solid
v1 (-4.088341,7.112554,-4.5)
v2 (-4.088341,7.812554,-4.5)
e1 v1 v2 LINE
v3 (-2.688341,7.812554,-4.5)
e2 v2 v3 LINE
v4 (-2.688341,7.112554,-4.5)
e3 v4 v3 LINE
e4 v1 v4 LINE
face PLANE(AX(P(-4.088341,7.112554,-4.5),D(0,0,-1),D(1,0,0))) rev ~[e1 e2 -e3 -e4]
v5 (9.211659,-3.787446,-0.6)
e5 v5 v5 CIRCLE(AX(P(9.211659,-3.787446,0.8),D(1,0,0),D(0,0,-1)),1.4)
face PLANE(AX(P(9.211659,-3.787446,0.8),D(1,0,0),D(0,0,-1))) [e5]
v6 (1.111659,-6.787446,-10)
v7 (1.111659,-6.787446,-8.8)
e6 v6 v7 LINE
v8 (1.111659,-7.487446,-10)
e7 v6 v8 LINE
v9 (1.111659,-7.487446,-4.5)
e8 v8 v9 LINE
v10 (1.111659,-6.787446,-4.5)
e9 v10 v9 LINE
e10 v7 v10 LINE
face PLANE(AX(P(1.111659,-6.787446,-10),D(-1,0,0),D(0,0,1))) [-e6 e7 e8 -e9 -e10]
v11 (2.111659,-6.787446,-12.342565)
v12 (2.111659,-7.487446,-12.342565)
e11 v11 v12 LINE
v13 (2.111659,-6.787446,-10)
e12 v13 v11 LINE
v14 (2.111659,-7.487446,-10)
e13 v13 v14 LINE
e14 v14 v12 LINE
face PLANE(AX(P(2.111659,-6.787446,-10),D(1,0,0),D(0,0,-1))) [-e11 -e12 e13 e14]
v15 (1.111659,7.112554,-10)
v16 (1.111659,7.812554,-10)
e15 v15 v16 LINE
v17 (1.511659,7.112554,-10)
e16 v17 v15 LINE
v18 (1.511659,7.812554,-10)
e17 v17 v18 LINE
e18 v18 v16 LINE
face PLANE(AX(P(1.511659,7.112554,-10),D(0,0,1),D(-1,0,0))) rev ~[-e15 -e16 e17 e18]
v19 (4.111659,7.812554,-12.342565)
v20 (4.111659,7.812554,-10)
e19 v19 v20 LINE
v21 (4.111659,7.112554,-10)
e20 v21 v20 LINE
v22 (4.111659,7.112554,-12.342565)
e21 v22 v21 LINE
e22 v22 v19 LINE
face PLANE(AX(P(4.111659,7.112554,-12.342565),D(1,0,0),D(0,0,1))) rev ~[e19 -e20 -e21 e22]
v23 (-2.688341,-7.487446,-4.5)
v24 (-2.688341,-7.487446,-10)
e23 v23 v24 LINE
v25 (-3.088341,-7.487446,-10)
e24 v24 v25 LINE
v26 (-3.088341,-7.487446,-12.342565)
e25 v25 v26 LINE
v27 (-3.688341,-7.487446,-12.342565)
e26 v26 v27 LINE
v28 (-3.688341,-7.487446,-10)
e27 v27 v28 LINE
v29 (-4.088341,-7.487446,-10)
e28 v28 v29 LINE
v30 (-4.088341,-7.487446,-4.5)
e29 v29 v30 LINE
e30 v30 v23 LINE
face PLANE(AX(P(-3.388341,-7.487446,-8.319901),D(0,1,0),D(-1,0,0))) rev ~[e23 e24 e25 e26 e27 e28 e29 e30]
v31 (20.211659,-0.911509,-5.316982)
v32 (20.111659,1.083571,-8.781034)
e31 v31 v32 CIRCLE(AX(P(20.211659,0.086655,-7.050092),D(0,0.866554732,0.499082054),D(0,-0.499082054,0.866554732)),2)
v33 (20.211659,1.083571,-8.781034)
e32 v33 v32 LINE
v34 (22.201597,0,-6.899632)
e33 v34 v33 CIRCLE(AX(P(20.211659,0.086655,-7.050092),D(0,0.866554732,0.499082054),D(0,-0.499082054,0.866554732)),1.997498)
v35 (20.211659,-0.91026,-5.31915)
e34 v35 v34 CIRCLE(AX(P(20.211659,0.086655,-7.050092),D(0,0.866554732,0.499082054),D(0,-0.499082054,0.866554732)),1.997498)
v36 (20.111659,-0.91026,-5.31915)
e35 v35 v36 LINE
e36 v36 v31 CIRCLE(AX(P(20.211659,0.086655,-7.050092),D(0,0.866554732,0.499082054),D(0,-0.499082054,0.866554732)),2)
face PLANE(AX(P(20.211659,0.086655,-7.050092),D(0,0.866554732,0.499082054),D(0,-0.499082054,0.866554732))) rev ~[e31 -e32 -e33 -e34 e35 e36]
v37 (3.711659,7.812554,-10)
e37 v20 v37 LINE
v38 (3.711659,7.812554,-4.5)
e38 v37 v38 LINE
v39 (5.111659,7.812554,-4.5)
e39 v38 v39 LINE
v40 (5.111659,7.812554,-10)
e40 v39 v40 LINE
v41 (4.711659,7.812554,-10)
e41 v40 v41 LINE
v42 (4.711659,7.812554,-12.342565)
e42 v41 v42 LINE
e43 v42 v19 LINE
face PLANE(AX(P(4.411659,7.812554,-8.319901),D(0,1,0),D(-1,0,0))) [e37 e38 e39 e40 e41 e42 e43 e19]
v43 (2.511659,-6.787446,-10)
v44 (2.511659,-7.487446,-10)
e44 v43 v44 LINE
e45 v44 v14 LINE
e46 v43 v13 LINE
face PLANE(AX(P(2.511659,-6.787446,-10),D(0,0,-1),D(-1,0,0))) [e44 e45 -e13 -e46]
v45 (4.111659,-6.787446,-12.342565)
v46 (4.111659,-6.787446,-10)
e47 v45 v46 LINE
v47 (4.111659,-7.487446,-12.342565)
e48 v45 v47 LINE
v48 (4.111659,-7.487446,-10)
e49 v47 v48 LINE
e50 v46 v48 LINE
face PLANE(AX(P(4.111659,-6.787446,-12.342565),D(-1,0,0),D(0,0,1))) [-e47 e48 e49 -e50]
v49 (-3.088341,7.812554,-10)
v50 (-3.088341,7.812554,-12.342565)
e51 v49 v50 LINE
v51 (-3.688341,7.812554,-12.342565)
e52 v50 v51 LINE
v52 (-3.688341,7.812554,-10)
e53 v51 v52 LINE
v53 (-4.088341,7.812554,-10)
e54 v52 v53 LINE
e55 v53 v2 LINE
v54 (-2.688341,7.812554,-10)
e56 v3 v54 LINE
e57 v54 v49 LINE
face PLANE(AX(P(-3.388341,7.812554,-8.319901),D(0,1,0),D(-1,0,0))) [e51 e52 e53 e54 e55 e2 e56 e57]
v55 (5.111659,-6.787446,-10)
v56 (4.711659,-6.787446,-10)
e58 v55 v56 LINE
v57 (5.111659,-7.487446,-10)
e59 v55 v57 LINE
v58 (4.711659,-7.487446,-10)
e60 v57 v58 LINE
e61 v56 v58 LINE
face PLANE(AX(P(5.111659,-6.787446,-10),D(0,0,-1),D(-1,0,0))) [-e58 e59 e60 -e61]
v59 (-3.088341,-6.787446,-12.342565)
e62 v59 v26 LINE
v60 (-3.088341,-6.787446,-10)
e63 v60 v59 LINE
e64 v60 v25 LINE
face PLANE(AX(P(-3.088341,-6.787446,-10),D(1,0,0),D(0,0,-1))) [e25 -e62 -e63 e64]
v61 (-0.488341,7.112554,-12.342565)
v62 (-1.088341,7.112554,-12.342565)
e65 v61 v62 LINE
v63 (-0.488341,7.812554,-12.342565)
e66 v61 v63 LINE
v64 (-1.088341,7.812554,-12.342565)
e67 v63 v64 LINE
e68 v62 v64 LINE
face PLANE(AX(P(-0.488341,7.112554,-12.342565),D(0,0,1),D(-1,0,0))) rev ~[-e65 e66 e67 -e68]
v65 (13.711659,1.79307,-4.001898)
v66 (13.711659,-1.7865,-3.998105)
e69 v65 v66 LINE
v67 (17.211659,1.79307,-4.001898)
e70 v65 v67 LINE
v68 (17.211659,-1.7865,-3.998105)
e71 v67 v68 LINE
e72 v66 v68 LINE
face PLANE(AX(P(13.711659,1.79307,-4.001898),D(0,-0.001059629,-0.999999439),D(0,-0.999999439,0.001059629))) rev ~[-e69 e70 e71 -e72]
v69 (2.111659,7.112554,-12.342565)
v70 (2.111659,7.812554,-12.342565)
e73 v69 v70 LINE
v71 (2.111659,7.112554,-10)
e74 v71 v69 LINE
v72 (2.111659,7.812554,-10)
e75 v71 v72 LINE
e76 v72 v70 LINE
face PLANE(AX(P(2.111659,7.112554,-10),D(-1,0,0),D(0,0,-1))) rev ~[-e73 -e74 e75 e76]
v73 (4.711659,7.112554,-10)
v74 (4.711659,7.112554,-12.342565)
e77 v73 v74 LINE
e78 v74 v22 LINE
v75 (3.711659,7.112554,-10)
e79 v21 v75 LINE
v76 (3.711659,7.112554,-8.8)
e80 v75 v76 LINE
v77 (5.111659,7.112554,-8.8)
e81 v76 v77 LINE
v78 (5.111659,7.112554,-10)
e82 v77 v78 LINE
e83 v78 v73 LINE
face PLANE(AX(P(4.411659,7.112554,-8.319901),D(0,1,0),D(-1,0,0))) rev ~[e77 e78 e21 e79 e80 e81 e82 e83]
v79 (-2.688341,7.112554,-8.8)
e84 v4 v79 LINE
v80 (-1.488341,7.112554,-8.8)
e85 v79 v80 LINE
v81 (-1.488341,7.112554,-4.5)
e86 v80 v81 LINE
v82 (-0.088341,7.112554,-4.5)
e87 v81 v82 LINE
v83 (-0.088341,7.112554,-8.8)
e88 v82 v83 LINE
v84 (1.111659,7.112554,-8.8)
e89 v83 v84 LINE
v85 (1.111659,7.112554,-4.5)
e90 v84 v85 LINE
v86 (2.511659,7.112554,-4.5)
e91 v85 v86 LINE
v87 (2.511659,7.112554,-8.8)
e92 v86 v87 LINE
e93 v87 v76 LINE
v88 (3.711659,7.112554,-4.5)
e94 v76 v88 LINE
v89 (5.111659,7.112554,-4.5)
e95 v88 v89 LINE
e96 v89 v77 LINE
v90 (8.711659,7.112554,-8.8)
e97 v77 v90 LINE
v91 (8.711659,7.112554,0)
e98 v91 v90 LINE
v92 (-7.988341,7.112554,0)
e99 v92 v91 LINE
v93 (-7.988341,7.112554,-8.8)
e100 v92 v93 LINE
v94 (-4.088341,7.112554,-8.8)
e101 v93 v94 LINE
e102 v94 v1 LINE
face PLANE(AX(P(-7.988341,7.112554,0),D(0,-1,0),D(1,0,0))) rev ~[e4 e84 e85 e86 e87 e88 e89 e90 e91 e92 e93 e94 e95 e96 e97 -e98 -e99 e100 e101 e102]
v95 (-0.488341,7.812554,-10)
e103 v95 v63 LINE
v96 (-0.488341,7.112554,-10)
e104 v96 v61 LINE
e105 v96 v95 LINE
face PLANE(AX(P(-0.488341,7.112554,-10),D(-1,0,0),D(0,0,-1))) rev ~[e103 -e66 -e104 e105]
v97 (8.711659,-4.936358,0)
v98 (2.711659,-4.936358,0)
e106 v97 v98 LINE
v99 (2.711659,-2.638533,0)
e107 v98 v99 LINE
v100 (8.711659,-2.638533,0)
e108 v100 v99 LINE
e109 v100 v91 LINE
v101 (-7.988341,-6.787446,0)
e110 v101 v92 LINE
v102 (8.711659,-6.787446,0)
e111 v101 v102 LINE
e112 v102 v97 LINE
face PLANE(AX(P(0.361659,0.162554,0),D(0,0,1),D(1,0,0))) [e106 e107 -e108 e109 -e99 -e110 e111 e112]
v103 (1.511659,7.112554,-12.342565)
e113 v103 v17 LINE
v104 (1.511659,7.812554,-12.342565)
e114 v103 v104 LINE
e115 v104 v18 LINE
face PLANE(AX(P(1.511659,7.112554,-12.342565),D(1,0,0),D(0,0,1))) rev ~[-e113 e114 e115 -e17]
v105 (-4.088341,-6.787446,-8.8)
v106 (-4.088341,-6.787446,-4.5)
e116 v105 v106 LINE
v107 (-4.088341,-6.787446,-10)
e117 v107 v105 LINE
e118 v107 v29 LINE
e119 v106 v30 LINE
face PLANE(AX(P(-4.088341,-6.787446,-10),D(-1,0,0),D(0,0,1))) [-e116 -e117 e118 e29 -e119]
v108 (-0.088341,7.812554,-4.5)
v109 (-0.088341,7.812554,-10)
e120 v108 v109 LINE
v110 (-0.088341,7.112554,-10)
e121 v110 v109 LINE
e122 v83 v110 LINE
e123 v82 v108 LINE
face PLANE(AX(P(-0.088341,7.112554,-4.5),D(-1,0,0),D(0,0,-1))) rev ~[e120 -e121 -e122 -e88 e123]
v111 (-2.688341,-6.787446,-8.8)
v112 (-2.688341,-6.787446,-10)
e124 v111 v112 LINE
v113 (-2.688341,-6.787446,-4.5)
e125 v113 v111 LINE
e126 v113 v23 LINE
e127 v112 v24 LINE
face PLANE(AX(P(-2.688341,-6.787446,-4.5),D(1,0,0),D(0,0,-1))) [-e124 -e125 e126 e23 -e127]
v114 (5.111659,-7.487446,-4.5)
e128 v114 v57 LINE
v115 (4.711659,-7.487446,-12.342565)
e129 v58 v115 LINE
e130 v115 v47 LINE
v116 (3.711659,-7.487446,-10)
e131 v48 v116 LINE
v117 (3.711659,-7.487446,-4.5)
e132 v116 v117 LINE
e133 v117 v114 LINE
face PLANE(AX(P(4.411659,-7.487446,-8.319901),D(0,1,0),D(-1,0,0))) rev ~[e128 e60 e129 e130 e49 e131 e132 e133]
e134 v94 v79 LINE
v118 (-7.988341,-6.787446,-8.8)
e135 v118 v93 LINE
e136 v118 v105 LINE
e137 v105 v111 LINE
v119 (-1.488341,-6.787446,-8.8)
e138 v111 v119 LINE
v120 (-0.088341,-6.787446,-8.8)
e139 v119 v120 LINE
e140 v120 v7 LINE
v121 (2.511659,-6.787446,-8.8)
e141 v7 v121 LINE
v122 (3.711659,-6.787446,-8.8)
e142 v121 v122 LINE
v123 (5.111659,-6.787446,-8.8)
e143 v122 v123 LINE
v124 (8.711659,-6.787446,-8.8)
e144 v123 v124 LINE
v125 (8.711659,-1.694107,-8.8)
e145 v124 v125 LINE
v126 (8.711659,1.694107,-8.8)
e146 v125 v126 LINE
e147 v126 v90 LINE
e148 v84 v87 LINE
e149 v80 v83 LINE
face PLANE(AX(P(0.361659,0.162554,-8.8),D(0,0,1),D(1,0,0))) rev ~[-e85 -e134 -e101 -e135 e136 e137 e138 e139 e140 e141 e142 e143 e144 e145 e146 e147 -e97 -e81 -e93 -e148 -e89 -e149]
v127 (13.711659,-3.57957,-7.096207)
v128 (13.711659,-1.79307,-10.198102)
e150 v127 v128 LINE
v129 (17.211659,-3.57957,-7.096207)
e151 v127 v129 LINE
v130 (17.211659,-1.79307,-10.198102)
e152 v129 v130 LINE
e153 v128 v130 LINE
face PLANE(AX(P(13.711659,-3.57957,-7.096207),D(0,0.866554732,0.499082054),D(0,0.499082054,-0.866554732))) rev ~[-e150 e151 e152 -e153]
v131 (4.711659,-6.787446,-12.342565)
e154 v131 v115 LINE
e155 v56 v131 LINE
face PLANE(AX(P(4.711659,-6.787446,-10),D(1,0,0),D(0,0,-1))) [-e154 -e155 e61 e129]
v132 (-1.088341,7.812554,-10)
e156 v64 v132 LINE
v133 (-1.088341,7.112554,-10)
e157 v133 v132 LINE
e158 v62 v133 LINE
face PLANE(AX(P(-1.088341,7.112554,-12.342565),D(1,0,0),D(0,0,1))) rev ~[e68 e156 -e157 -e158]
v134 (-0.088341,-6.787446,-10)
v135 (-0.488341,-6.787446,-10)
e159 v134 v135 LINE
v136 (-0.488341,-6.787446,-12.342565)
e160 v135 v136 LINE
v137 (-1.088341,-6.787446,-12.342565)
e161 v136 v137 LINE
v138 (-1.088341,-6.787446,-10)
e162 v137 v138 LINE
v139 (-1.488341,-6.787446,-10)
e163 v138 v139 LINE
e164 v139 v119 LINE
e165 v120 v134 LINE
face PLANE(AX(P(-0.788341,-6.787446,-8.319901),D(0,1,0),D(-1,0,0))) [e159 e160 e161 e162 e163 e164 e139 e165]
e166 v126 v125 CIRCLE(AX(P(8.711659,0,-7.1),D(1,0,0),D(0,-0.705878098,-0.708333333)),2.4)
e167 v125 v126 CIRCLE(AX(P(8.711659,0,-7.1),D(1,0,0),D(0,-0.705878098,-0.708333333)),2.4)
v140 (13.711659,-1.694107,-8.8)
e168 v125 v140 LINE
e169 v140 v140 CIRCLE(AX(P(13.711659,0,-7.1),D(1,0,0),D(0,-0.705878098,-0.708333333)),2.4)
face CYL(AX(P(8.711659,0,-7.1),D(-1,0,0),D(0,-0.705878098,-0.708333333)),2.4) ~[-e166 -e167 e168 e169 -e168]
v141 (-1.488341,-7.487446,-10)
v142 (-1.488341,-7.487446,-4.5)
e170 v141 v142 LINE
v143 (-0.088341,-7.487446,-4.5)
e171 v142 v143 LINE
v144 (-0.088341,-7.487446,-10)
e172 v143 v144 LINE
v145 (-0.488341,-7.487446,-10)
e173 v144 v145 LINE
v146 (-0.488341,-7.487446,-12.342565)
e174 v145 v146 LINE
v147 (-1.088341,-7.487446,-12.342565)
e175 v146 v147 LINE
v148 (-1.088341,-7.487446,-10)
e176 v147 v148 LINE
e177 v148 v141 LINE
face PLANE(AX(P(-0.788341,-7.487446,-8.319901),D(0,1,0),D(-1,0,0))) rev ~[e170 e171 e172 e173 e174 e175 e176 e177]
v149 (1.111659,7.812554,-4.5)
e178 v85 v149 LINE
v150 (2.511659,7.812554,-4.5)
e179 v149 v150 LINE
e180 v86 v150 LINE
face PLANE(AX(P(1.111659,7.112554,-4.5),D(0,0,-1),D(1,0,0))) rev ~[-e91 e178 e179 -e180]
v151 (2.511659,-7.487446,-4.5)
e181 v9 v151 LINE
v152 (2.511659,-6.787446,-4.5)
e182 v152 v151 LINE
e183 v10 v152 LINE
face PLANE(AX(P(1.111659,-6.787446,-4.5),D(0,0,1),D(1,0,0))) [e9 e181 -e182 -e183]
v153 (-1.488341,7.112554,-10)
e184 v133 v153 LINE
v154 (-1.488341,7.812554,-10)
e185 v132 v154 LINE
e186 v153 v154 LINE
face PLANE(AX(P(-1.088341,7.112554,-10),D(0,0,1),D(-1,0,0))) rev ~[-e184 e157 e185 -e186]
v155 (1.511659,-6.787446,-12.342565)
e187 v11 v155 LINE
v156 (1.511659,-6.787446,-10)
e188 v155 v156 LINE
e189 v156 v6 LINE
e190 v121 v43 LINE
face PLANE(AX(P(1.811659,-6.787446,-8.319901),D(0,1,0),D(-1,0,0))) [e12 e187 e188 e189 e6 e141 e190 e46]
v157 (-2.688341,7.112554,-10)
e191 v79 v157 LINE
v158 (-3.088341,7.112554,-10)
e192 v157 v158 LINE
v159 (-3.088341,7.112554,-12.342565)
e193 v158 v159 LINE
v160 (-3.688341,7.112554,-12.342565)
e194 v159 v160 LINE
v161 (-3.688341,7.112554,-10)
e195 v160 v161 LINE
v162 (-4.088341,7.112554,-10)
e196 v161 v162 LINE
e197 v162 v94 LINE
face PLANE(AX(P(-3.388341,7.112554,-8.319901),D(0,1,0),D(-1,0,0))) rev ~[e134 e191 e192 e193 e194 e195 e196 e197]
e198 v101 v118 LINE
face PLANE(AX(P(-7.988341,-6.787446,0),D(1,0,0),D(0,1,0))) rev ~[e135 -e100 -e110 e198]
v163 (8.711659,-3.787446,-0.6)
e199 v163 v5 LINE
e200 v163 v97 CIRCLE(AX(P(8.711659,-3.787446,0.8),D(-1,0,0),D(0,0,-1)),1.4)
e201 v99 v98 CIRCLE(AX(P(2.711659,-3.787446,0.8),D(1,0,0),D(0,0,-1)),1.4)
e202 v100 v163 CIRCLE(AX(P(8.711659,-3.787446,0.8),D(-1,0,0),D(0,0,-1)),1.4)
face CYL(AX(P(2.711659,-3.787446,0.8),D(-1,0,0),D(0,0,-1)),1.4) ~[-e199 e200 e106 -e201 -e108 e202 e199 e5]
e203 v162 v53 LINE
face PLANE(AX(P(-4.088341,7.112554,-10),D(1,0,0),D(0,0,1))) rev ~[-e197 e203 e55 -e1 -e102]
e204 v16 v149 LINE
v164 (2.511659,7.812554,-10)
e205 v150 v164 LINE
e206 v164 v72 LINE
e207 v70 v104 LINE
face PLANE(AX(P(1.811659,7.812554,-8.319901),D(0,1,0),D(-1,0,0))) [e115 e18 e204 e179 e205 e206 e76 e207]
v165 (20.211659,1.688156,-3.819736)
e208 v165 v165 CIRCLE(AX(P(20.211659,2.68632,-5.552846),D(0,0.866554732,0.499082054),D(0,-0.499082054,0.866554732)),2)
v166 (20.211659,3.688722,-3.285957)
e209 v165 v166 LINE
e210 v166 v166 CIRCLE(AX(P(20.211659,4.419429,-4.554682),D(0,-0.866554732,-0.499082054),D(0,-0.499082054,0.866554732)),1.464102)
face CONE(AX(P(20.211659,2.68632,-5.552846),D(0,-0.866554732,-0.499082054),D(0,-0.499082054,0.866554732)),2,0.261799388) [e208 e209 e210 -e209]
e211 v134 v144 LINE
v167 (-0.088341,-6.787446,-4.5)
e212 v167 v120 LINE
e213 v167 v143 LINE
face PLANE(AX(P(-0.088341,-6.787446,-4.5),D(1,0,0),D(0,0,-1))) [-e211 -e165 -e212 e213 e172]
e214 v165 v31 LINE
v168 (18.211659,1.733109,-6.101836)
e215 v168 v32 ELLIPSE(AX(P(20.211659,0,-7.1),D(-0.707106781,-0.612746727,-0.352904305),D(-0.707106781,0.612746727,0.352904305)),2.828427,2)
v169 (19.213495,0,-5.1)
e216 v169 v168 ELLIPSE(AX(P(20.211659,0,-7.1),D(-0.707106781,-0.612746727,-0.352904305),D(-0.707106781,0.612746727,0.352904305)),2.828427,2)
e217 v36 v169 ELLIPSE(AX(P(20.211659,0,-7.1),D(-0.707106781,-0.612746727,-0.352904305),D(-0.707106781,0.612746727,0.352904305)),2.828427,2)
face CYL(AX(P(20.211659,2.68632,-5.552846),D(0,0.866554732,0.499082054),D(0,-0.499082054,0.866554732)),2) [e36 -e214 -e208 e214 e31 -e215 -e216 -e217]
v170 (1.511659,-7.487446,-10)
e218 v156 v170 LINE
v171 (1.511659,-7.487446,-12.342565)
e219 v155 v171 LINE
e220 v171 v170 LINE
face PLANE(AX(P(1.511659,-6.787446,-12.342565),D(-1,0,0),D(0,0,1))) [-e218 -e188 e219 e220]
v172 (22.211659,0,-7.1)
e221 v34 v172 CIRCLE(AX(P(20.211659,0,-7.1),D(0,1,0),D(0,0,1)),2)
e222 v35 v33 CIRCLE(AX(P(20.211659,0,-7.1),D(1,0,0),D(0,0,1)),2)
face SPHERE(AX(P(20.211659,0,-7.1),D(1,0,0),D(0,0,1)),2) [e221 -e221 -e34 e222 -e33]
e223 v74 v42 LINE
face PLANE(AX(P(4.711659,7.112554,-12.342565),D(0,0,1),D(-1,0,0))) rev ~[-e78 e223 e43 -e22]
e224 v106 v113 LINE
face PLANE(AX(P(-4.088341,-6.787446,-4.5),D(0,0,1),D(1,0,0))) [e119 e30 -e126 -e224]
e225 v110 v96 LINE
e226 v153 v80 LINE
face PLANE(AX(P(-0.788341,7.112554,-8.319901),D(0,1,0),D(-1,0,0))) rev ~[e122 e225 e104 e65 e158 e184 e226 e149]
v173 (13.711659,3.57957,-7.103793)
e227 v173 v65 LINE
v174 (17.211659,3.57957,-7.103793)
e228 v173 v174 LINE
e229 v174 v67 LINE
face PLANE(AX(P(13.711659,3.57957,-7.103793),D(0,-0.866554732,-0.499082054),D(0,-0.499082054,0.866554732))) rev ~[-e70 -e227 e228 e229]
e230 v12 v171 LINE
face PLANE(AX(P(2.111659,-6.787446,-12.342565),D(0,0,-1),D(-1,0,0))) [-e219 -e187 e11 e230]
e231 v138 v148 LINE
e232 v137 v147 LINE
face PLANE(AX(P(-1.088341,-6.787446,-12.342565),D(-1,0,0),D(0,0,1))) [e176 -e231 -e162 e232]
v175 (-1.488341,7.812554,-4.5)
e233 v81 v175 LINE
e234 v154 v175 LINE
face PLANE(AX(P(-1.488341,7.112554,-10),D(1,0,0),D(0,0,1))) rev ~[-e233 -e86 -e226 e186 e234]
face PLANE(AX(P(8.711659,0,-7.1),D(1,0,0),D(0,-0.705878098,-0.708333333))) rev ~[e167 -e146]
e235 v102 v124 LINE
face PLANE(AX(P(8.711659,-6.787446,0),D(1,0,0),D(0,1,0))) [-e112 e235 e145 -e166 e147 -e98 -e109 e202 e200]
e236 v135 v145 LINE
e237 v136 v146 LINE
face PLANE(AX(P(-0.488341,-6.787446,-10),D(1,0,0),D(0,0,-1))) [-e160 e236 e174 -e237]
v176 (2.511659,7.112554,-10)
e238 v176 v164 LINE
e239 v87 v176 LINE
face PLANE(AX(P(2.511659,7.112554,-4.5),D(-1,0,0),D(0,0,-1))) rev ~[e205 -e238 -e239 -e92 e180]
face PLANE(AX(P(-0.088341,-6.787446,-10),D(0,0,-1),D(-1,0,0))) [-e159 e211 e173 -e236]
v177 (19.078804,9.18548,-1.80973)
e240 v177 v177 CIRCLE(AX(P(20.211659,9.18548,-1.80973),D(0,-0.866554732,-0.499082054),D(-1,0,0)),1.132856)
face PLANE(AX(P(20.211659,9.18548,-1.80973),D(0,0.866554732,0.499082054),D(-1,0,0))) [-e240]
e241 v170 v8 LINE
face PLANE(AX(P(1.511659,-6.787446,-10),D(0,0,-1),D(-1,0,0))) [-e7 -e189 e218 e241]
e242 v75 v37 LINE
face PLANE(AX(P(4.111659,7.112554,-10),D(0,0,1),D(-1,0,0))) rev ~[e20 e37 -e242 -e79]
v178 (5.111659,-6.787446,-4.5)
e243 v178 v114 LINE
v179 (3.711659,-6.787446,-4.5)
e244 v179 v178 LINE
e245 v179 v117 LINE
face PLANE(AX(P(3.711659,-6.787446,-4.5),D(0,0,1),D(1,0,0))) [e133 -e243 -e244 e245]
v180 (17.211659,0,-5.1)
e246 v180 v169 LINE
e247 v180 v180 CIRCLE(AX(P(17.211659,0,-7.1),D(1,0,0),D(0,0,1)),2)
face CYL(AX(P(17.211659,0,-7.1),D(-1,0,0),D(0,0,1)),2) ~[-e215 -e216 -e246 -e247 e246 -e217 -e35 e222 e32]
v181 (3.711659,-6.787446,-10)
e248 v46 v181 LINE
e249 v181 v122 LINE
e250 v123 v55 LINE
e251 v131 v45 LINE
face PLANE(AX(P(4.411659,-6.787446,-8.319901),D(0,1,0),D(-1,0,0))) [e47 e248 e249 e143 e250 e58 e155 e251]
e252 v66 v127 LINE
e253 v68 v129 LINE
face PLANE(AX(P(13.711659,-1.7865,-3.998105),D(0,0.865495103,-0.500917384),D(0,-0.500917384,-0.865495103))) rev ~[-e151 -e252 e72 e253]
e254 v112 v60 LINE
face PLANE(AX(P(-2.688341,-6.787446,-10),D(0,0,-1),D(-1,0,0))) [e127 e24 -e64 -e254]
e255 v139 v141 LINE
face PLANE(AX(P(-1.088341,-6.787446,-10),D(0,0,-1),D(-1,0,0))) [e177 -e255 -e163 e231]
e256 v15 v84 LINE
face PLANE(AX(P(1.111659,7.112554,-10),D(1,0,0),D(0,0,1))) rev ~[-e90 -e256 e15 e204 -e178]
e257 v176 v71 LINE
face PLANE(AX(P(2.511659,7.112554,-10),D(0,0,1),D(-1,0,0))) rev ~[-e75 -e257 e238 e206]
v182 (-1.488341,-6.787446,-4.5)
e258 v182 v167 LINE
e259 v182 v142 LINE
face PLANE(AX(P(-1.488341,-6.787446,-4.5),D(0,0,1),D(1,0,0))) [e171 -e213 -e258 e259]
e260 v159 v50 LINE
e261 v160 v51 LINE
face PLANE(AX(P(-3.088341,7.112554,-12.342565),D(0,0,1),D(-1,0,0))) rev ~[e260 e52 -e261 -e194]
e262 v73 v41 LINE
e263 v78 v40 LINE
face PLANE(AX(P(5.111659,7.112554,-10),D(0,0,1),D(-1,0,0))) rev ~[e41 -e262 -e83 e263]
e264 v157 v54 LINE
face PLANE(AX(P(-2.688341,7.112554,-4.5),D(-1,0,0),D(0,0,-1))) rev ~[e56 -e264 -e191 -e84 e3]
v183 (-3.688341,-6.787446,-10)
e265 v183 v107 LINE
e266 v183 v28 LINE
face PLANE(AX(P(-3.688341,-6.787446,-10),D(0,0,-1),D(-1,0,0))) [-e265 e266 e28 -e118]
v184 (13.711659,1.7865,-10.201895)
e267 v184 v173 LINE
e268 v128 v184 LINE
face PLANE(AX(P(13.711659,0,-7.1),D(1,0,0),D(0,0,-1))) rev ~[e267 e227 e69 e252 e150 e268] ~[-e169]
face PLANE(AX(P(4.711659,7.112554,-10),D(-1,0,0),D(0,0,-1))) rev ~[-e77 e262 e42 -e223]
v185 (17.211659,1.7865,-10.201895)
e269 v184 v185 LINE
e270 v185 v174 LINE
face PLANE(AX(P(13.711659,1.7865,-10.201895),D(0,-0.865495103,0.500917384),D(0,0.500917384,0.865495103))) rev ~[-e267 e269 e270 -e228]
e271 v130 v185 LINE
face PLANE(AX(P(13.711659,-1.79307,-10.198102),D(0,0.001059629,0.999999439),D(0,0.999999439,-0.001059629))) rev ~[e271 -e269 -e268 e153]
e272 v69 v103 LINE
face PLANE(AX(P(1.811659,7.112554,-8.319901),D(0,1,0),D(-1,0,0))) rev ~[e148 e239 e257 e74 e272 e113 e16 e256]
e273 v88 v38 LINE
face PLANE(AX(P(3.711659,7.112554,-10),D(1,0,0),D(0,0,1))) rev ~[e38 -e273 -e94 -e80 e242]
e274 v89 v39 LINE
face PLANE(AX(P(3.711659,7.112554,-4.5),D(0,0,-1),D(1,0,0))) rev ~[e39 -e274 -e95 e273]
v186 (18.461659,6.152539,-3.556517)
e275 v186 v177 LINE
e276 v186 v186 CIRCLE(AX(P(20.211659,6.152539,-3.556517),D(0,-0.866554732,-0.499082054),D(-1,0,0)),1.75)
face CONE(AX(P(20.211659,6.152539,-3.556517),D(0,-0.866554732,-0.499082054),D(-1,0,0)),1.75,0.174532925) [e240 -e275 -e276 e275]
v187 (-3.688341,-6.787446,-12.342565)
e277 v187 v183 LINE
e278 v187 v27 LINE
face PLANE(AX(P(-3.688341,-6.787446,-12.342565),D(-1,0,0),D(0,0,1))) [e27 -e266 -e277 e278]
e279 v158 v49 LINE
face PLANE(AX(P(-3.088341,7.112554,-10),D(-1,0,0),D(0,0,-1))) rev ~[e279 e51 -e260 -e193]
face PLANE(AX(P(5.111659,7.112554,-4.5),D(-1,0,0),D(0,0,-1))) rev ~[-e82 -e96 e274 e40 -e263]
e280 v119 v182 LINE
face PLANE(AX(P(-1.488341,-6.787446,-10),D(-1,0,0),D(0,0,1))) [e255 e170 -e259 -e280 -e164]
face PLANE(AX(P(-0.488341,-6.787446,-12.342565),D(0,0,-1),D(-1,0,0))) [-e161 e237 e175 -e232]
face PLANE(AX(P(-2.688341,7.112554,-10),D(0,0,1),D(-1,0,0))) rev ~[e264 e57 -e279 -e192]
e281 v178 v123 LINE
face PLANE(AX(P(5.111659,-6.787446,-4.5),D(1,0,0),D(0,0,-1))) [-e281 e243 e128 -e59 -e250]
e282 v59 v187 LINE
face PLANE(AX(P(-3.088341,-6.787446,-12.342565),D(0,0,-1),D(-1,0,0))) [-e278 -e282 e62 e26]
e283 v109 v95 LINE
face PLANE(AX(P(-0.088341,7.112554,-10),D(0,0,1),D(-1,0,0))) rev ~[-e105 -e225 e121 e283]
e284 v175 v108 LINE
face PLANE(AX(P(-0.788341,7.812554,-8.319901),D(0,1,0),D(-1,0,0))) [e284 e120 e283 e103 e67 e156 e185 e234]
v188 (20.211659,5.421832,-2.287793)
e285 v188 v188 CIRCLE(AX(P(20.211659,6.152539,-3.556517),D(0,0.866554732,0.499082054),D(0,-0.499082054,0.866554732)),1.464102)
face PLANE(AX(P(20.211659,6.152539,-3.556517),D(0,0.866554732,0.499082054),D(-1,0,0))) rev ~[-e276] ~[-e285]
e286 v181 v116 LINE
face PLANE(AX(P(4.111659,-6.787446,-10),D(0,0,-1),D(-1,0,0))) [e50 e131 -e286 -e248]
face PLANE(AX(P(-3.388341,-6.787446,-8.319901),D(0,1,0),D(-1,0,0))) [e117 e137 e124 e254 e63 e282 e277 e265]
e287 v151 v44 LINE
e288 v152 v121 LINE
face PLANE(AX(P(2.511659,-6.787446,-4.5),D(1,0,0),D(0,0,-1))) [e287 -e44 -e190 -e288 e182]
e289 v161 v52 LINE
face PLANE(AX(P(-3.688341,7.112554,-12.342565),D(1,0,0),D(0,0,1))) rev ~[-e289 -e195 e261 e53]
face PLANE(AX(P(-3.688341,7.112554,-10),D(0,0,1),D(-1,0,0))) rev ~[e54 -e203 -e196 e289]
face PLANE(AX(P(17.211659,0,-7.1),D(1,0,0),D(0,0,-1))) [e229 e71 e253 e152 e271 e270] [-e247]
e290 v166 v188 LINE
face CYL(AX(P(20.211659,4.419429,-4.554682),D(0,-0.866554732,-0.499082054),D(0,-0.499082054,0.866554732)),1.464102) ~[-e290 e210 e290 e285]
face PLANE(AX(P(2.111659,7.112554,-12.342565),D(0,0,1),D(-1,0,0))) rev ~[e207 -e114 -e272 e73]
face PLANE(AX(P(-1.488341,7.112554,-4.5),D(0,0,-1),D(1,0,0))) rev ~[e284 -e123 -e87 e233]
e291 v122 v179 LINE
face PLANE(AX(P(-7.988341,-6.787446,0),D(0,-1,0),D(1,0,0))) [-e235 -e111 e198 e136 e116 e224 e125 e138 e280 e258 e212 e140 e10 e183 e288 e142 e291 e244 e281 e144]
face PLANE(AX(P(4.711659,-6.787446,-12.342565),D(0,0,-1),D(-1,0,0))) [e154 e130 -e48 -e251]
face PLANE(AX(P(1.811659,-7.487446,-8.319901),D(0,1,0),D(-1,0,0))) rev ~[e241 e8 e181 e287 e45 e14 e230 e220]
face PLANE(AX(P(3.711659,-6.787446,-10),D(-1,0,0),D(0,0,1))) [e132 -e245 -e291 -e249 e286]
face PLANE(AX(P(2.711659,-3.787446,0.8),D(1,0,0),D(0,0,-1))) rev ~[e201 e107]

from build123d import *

# Parameters (mm, degrees)
ESQUISSE1_W                = 16.7
ESQUISSE1_H                = 13.9
EXTRUSION1_DEPTH           = 8.8
EXTRUSION2_DEPTH           = 0.5
EXTRUSION2_DEPTH_BACK      = 6
ESQUISSE2_R                = 1.4
ESQUISSE3_R                = 2.4
EXTRUSION3_DEPTH           = 5
EXTRUSION4_DEPTH           = 3.5
ESQUISSE5_R                = 2
EXTRUSION5_DEPTH           = 5
CONG_1_R                   = 2
ESQUISSE6_R                = 2
EXTRUSION6_DEPTH           = 3
EXTRUSION6_OTHER_WAY_DEPTH = 2
EXTRUSION6_OTHER_WAY_TAPER = 15
ESQUISSE7_R                = 1.464101615
EXTRUSION7_DEPTH           = 2
ESQUISSE8_R                = 1.75
EXTRUSION8_DEPTH           = 3.5
EXTRUSION8_TAPER           = 10
EXTRUSION9_DEPTH           = 0.7
EXTRUSION10_DEPTH          = 0.7


with BuildPart() as part:
    # Esquisse1 → Extrusion1 (new body)
    with BuildSketch(Plane.XY):
        with Locations((0.361659441, 0.162554307)):
            Rectangle(ESQUISSE1_W, ESQUISSE1_H)
    extrude(amount=-EXTRUSION1_DEPTH)

    # Esquisse2 → Extrusion2 (add, two sides: drawn at the far end of the back side and taken through both)
    with BuildSketch(Plane(origin=(8.711659441, 0, 0), x_dir=(0, 0, -1), z_dir=(1, 0, 0)).offset(-EXTRUSION2_DEPTH_BACK)):
        with Locations((-0.8, -3.787445693)):
            Circle(ESQUISSE2_R)
    extrude(amount=EXTRUSION2_DEPTH + EXTRUSION2_DEPTH_BACK)

    # Esquisse3 → Extrusion3 (add)
    with BuildSketch(Plane(origin=(8.711659441, 0, 0), x_dir=(0, 0, -1), z_dir=(1, 0, 0))):
        with Locations(Location((7.1, 0, 0), (0, 0, 315.099472039))):
            Circle(ESQUISSE3_R)
    extrude(amount=EXTRUSION3_DEPTH)

    # Esquisse4 → Extrusion4 (add)
    with BuildSketch(Plane(origin=(13.711659441, 0, 0), x_dir=(0, 0, -1), z_dir=(1, 0, 0))):
        Polygon((10.198101751, -1.793069678), (10.201894768, 1.786499981), (7.103793016, 3.579569659), (4.001898249, 1.793069678), (3.998105232, -1.786499981), (7.096206984, -3.579569659), align=None)
    extrude(amount=EXTRUSION4_DEPTH)

    # Esquisse5 → Extrusion5 (add)
    with BuildSketch(Plane(origin=(17.211659441, 0, 0), x_dir=(0, 0, -1), z_dir=(1, 0, 0))):
        with Locations(Location((7.1, 0, 0), (0, 0, 180))):
            Circle(ESQUISSE5_R)
    extrude(amount=EXTRUSION5_DEPTH)

    # Congé1
    cong_1_edges = [part.edges().sort_by_distance(p)[0] for p in [
        (22.211659441, 0, -9.1),
    ]]
    fillet(cong_1_edges, radius=CONG_1_R)

    # Esquisse6 → Extrusion6 (add)
    with BuildSketch(Plane(origin=(0, -0.384301931, -0.221334199), x_dir=(-1, 0, 0), z_dir=(0, 0.866554731886771, 0.4990820540198241))):
        with Locations(Location((-20.211659441, -6.152538596, 0), (0, 0, 90))):
            Circle(ESQUISSE6_R)
    extrude(amount=-EXTRUSION6_DEPTH)

    # Esquisse6 → Extrusion6 other way (add)
    with BuildSketch(Plane(origin=(0, -0.384301931, -0.221334199), x_dir=(-1, 0, 0), z_dir=(0, 0.866554731886771, 0.4990820540198241))):
        with Locations(Location((-20.211659441, -6.152538596, 0), (0, 0, 90))):
            Circle(ESQUISSE6_R)
    extrude(amount=EXTRUSION6_OTHER_WAY_DEPTH, taper=EXTRUSION6_OTHER_WAY_TAPER)

    # Esquisse7 → Extrusion7 (add)
    with BuildSketch(Plane(origin=(0, 1.348807532, 0.776829909), x_dir=(-1, 0, 0), z_dir=(0, 0.866554731886771, 0.4990820540198242))):
        with Locations(Location((-20.211659441, -6.152538596, 0), (0, 0, 90))):
            Circle(ESQUISSE7_R)
    extrude(amount=EXTRUSION7_DEPTH)

    # Esquisse8 → Extrusion8 (add)
    with BuildSketch(Plane(origin=(0, 3.081916996, 1.774994017), x_dir=(-1, 0, 0), z_dir=(0, 0.8665547318867707, 0.4990820540198243))):
        with Locations((-20.211659441, -6.152538596)):
            Circle(ESQUISSE8_R)
    extrude(amount=EXTRUSION8_DEPTH, taper=EXTRUSION8_TAPER)

    # Esquisse9 → Extrusion9 (add)
    with BuildSketch(Plane.XZ.offset(6.787445693)):
        Polygon((5.111659441, -4.5), (5.111659441, -10), (4.711659441, -10), (4.711659441, -12.342565152), (4.111659441, -12.342565152), (4.111659441, -10), (3.711659441, -10), (3.711659441, -4.5), align=None)
        Polygon((2.511659441, -4.5), (2.511659441, -10), (2.111659441, -10), (2.111659441, -12.342565152), (1.511659441, -12.342565152), (1.511659441, -10), (1.111659441, -10), (1.111659441, -4.5), align=None)
        Polygon((-0.088340559, -4.5), (-0.088340559, -10), (-0.488340559, -10), (-0.488340559, -12.342565152), (-1.088340559, -12.342565152), (-1.088340559, -10), (-1.488340559, -10), (-1.488340559, -4.5), align=None)
        Polygon((-2.688340559, -4.5), (-2.688340559, -10), (-3.088340559, -10), (-3.088340559, -12.342565152), (-3.688340559, -12.342565152), (-3.688340559, -10), (-4.088340559, -10), (-4.088340559, -4.5), align=None)
    extrude(amount=EXTRUSION9_DEPTH)

    # Esquisse10 → Extrusion10 (add)
    with BuildSketch(Plane(origin=(0, 7.112554307, 0), x_dir=(-1, 0, 0), z_dir=(0, 1, 0))):
        Polygon((0.088340559, -4.5), (0.088340559, -10), (0.488340559, -10), (0.488340559, -12.342565152), (1.088340559, -12.342565152), (1.088340559, -10), (1.488340559, -10), (1.488340559, -4.5), align=None)
        Polygon((-2.511659441, -10), (-2.111659441, -10), (-2.111659441, -12.342565152), (-1.511659441, -12.342565152), (-1.511659441, -10), (-1.111659441, -10), (-1.111659441, -4.5), (-2.511659441, -4.5), align=None)
        Polygon((-4.711659441, -10), (-4.711659441, -12.342565152), (-4.111659441, -12.342565152), (-4.111659441, -10), (-3.711659441, -10), (-3.711659441, -4.5), (-5.111659441, -4.5), (-5.111659441, -10), align=None)
        Polygon((2.688340559, -4.5), (2.688340559, -10), (3.088340559, -10), (3.088340559, -12.342565152), (3.688340559, -12.342565152), (3.688340559, -10), (4.088340559, -10), (4.088340559, -4.5), align=None)
    extrude(amount=EXTRUSION10_DEPTH)


solid = part.part
